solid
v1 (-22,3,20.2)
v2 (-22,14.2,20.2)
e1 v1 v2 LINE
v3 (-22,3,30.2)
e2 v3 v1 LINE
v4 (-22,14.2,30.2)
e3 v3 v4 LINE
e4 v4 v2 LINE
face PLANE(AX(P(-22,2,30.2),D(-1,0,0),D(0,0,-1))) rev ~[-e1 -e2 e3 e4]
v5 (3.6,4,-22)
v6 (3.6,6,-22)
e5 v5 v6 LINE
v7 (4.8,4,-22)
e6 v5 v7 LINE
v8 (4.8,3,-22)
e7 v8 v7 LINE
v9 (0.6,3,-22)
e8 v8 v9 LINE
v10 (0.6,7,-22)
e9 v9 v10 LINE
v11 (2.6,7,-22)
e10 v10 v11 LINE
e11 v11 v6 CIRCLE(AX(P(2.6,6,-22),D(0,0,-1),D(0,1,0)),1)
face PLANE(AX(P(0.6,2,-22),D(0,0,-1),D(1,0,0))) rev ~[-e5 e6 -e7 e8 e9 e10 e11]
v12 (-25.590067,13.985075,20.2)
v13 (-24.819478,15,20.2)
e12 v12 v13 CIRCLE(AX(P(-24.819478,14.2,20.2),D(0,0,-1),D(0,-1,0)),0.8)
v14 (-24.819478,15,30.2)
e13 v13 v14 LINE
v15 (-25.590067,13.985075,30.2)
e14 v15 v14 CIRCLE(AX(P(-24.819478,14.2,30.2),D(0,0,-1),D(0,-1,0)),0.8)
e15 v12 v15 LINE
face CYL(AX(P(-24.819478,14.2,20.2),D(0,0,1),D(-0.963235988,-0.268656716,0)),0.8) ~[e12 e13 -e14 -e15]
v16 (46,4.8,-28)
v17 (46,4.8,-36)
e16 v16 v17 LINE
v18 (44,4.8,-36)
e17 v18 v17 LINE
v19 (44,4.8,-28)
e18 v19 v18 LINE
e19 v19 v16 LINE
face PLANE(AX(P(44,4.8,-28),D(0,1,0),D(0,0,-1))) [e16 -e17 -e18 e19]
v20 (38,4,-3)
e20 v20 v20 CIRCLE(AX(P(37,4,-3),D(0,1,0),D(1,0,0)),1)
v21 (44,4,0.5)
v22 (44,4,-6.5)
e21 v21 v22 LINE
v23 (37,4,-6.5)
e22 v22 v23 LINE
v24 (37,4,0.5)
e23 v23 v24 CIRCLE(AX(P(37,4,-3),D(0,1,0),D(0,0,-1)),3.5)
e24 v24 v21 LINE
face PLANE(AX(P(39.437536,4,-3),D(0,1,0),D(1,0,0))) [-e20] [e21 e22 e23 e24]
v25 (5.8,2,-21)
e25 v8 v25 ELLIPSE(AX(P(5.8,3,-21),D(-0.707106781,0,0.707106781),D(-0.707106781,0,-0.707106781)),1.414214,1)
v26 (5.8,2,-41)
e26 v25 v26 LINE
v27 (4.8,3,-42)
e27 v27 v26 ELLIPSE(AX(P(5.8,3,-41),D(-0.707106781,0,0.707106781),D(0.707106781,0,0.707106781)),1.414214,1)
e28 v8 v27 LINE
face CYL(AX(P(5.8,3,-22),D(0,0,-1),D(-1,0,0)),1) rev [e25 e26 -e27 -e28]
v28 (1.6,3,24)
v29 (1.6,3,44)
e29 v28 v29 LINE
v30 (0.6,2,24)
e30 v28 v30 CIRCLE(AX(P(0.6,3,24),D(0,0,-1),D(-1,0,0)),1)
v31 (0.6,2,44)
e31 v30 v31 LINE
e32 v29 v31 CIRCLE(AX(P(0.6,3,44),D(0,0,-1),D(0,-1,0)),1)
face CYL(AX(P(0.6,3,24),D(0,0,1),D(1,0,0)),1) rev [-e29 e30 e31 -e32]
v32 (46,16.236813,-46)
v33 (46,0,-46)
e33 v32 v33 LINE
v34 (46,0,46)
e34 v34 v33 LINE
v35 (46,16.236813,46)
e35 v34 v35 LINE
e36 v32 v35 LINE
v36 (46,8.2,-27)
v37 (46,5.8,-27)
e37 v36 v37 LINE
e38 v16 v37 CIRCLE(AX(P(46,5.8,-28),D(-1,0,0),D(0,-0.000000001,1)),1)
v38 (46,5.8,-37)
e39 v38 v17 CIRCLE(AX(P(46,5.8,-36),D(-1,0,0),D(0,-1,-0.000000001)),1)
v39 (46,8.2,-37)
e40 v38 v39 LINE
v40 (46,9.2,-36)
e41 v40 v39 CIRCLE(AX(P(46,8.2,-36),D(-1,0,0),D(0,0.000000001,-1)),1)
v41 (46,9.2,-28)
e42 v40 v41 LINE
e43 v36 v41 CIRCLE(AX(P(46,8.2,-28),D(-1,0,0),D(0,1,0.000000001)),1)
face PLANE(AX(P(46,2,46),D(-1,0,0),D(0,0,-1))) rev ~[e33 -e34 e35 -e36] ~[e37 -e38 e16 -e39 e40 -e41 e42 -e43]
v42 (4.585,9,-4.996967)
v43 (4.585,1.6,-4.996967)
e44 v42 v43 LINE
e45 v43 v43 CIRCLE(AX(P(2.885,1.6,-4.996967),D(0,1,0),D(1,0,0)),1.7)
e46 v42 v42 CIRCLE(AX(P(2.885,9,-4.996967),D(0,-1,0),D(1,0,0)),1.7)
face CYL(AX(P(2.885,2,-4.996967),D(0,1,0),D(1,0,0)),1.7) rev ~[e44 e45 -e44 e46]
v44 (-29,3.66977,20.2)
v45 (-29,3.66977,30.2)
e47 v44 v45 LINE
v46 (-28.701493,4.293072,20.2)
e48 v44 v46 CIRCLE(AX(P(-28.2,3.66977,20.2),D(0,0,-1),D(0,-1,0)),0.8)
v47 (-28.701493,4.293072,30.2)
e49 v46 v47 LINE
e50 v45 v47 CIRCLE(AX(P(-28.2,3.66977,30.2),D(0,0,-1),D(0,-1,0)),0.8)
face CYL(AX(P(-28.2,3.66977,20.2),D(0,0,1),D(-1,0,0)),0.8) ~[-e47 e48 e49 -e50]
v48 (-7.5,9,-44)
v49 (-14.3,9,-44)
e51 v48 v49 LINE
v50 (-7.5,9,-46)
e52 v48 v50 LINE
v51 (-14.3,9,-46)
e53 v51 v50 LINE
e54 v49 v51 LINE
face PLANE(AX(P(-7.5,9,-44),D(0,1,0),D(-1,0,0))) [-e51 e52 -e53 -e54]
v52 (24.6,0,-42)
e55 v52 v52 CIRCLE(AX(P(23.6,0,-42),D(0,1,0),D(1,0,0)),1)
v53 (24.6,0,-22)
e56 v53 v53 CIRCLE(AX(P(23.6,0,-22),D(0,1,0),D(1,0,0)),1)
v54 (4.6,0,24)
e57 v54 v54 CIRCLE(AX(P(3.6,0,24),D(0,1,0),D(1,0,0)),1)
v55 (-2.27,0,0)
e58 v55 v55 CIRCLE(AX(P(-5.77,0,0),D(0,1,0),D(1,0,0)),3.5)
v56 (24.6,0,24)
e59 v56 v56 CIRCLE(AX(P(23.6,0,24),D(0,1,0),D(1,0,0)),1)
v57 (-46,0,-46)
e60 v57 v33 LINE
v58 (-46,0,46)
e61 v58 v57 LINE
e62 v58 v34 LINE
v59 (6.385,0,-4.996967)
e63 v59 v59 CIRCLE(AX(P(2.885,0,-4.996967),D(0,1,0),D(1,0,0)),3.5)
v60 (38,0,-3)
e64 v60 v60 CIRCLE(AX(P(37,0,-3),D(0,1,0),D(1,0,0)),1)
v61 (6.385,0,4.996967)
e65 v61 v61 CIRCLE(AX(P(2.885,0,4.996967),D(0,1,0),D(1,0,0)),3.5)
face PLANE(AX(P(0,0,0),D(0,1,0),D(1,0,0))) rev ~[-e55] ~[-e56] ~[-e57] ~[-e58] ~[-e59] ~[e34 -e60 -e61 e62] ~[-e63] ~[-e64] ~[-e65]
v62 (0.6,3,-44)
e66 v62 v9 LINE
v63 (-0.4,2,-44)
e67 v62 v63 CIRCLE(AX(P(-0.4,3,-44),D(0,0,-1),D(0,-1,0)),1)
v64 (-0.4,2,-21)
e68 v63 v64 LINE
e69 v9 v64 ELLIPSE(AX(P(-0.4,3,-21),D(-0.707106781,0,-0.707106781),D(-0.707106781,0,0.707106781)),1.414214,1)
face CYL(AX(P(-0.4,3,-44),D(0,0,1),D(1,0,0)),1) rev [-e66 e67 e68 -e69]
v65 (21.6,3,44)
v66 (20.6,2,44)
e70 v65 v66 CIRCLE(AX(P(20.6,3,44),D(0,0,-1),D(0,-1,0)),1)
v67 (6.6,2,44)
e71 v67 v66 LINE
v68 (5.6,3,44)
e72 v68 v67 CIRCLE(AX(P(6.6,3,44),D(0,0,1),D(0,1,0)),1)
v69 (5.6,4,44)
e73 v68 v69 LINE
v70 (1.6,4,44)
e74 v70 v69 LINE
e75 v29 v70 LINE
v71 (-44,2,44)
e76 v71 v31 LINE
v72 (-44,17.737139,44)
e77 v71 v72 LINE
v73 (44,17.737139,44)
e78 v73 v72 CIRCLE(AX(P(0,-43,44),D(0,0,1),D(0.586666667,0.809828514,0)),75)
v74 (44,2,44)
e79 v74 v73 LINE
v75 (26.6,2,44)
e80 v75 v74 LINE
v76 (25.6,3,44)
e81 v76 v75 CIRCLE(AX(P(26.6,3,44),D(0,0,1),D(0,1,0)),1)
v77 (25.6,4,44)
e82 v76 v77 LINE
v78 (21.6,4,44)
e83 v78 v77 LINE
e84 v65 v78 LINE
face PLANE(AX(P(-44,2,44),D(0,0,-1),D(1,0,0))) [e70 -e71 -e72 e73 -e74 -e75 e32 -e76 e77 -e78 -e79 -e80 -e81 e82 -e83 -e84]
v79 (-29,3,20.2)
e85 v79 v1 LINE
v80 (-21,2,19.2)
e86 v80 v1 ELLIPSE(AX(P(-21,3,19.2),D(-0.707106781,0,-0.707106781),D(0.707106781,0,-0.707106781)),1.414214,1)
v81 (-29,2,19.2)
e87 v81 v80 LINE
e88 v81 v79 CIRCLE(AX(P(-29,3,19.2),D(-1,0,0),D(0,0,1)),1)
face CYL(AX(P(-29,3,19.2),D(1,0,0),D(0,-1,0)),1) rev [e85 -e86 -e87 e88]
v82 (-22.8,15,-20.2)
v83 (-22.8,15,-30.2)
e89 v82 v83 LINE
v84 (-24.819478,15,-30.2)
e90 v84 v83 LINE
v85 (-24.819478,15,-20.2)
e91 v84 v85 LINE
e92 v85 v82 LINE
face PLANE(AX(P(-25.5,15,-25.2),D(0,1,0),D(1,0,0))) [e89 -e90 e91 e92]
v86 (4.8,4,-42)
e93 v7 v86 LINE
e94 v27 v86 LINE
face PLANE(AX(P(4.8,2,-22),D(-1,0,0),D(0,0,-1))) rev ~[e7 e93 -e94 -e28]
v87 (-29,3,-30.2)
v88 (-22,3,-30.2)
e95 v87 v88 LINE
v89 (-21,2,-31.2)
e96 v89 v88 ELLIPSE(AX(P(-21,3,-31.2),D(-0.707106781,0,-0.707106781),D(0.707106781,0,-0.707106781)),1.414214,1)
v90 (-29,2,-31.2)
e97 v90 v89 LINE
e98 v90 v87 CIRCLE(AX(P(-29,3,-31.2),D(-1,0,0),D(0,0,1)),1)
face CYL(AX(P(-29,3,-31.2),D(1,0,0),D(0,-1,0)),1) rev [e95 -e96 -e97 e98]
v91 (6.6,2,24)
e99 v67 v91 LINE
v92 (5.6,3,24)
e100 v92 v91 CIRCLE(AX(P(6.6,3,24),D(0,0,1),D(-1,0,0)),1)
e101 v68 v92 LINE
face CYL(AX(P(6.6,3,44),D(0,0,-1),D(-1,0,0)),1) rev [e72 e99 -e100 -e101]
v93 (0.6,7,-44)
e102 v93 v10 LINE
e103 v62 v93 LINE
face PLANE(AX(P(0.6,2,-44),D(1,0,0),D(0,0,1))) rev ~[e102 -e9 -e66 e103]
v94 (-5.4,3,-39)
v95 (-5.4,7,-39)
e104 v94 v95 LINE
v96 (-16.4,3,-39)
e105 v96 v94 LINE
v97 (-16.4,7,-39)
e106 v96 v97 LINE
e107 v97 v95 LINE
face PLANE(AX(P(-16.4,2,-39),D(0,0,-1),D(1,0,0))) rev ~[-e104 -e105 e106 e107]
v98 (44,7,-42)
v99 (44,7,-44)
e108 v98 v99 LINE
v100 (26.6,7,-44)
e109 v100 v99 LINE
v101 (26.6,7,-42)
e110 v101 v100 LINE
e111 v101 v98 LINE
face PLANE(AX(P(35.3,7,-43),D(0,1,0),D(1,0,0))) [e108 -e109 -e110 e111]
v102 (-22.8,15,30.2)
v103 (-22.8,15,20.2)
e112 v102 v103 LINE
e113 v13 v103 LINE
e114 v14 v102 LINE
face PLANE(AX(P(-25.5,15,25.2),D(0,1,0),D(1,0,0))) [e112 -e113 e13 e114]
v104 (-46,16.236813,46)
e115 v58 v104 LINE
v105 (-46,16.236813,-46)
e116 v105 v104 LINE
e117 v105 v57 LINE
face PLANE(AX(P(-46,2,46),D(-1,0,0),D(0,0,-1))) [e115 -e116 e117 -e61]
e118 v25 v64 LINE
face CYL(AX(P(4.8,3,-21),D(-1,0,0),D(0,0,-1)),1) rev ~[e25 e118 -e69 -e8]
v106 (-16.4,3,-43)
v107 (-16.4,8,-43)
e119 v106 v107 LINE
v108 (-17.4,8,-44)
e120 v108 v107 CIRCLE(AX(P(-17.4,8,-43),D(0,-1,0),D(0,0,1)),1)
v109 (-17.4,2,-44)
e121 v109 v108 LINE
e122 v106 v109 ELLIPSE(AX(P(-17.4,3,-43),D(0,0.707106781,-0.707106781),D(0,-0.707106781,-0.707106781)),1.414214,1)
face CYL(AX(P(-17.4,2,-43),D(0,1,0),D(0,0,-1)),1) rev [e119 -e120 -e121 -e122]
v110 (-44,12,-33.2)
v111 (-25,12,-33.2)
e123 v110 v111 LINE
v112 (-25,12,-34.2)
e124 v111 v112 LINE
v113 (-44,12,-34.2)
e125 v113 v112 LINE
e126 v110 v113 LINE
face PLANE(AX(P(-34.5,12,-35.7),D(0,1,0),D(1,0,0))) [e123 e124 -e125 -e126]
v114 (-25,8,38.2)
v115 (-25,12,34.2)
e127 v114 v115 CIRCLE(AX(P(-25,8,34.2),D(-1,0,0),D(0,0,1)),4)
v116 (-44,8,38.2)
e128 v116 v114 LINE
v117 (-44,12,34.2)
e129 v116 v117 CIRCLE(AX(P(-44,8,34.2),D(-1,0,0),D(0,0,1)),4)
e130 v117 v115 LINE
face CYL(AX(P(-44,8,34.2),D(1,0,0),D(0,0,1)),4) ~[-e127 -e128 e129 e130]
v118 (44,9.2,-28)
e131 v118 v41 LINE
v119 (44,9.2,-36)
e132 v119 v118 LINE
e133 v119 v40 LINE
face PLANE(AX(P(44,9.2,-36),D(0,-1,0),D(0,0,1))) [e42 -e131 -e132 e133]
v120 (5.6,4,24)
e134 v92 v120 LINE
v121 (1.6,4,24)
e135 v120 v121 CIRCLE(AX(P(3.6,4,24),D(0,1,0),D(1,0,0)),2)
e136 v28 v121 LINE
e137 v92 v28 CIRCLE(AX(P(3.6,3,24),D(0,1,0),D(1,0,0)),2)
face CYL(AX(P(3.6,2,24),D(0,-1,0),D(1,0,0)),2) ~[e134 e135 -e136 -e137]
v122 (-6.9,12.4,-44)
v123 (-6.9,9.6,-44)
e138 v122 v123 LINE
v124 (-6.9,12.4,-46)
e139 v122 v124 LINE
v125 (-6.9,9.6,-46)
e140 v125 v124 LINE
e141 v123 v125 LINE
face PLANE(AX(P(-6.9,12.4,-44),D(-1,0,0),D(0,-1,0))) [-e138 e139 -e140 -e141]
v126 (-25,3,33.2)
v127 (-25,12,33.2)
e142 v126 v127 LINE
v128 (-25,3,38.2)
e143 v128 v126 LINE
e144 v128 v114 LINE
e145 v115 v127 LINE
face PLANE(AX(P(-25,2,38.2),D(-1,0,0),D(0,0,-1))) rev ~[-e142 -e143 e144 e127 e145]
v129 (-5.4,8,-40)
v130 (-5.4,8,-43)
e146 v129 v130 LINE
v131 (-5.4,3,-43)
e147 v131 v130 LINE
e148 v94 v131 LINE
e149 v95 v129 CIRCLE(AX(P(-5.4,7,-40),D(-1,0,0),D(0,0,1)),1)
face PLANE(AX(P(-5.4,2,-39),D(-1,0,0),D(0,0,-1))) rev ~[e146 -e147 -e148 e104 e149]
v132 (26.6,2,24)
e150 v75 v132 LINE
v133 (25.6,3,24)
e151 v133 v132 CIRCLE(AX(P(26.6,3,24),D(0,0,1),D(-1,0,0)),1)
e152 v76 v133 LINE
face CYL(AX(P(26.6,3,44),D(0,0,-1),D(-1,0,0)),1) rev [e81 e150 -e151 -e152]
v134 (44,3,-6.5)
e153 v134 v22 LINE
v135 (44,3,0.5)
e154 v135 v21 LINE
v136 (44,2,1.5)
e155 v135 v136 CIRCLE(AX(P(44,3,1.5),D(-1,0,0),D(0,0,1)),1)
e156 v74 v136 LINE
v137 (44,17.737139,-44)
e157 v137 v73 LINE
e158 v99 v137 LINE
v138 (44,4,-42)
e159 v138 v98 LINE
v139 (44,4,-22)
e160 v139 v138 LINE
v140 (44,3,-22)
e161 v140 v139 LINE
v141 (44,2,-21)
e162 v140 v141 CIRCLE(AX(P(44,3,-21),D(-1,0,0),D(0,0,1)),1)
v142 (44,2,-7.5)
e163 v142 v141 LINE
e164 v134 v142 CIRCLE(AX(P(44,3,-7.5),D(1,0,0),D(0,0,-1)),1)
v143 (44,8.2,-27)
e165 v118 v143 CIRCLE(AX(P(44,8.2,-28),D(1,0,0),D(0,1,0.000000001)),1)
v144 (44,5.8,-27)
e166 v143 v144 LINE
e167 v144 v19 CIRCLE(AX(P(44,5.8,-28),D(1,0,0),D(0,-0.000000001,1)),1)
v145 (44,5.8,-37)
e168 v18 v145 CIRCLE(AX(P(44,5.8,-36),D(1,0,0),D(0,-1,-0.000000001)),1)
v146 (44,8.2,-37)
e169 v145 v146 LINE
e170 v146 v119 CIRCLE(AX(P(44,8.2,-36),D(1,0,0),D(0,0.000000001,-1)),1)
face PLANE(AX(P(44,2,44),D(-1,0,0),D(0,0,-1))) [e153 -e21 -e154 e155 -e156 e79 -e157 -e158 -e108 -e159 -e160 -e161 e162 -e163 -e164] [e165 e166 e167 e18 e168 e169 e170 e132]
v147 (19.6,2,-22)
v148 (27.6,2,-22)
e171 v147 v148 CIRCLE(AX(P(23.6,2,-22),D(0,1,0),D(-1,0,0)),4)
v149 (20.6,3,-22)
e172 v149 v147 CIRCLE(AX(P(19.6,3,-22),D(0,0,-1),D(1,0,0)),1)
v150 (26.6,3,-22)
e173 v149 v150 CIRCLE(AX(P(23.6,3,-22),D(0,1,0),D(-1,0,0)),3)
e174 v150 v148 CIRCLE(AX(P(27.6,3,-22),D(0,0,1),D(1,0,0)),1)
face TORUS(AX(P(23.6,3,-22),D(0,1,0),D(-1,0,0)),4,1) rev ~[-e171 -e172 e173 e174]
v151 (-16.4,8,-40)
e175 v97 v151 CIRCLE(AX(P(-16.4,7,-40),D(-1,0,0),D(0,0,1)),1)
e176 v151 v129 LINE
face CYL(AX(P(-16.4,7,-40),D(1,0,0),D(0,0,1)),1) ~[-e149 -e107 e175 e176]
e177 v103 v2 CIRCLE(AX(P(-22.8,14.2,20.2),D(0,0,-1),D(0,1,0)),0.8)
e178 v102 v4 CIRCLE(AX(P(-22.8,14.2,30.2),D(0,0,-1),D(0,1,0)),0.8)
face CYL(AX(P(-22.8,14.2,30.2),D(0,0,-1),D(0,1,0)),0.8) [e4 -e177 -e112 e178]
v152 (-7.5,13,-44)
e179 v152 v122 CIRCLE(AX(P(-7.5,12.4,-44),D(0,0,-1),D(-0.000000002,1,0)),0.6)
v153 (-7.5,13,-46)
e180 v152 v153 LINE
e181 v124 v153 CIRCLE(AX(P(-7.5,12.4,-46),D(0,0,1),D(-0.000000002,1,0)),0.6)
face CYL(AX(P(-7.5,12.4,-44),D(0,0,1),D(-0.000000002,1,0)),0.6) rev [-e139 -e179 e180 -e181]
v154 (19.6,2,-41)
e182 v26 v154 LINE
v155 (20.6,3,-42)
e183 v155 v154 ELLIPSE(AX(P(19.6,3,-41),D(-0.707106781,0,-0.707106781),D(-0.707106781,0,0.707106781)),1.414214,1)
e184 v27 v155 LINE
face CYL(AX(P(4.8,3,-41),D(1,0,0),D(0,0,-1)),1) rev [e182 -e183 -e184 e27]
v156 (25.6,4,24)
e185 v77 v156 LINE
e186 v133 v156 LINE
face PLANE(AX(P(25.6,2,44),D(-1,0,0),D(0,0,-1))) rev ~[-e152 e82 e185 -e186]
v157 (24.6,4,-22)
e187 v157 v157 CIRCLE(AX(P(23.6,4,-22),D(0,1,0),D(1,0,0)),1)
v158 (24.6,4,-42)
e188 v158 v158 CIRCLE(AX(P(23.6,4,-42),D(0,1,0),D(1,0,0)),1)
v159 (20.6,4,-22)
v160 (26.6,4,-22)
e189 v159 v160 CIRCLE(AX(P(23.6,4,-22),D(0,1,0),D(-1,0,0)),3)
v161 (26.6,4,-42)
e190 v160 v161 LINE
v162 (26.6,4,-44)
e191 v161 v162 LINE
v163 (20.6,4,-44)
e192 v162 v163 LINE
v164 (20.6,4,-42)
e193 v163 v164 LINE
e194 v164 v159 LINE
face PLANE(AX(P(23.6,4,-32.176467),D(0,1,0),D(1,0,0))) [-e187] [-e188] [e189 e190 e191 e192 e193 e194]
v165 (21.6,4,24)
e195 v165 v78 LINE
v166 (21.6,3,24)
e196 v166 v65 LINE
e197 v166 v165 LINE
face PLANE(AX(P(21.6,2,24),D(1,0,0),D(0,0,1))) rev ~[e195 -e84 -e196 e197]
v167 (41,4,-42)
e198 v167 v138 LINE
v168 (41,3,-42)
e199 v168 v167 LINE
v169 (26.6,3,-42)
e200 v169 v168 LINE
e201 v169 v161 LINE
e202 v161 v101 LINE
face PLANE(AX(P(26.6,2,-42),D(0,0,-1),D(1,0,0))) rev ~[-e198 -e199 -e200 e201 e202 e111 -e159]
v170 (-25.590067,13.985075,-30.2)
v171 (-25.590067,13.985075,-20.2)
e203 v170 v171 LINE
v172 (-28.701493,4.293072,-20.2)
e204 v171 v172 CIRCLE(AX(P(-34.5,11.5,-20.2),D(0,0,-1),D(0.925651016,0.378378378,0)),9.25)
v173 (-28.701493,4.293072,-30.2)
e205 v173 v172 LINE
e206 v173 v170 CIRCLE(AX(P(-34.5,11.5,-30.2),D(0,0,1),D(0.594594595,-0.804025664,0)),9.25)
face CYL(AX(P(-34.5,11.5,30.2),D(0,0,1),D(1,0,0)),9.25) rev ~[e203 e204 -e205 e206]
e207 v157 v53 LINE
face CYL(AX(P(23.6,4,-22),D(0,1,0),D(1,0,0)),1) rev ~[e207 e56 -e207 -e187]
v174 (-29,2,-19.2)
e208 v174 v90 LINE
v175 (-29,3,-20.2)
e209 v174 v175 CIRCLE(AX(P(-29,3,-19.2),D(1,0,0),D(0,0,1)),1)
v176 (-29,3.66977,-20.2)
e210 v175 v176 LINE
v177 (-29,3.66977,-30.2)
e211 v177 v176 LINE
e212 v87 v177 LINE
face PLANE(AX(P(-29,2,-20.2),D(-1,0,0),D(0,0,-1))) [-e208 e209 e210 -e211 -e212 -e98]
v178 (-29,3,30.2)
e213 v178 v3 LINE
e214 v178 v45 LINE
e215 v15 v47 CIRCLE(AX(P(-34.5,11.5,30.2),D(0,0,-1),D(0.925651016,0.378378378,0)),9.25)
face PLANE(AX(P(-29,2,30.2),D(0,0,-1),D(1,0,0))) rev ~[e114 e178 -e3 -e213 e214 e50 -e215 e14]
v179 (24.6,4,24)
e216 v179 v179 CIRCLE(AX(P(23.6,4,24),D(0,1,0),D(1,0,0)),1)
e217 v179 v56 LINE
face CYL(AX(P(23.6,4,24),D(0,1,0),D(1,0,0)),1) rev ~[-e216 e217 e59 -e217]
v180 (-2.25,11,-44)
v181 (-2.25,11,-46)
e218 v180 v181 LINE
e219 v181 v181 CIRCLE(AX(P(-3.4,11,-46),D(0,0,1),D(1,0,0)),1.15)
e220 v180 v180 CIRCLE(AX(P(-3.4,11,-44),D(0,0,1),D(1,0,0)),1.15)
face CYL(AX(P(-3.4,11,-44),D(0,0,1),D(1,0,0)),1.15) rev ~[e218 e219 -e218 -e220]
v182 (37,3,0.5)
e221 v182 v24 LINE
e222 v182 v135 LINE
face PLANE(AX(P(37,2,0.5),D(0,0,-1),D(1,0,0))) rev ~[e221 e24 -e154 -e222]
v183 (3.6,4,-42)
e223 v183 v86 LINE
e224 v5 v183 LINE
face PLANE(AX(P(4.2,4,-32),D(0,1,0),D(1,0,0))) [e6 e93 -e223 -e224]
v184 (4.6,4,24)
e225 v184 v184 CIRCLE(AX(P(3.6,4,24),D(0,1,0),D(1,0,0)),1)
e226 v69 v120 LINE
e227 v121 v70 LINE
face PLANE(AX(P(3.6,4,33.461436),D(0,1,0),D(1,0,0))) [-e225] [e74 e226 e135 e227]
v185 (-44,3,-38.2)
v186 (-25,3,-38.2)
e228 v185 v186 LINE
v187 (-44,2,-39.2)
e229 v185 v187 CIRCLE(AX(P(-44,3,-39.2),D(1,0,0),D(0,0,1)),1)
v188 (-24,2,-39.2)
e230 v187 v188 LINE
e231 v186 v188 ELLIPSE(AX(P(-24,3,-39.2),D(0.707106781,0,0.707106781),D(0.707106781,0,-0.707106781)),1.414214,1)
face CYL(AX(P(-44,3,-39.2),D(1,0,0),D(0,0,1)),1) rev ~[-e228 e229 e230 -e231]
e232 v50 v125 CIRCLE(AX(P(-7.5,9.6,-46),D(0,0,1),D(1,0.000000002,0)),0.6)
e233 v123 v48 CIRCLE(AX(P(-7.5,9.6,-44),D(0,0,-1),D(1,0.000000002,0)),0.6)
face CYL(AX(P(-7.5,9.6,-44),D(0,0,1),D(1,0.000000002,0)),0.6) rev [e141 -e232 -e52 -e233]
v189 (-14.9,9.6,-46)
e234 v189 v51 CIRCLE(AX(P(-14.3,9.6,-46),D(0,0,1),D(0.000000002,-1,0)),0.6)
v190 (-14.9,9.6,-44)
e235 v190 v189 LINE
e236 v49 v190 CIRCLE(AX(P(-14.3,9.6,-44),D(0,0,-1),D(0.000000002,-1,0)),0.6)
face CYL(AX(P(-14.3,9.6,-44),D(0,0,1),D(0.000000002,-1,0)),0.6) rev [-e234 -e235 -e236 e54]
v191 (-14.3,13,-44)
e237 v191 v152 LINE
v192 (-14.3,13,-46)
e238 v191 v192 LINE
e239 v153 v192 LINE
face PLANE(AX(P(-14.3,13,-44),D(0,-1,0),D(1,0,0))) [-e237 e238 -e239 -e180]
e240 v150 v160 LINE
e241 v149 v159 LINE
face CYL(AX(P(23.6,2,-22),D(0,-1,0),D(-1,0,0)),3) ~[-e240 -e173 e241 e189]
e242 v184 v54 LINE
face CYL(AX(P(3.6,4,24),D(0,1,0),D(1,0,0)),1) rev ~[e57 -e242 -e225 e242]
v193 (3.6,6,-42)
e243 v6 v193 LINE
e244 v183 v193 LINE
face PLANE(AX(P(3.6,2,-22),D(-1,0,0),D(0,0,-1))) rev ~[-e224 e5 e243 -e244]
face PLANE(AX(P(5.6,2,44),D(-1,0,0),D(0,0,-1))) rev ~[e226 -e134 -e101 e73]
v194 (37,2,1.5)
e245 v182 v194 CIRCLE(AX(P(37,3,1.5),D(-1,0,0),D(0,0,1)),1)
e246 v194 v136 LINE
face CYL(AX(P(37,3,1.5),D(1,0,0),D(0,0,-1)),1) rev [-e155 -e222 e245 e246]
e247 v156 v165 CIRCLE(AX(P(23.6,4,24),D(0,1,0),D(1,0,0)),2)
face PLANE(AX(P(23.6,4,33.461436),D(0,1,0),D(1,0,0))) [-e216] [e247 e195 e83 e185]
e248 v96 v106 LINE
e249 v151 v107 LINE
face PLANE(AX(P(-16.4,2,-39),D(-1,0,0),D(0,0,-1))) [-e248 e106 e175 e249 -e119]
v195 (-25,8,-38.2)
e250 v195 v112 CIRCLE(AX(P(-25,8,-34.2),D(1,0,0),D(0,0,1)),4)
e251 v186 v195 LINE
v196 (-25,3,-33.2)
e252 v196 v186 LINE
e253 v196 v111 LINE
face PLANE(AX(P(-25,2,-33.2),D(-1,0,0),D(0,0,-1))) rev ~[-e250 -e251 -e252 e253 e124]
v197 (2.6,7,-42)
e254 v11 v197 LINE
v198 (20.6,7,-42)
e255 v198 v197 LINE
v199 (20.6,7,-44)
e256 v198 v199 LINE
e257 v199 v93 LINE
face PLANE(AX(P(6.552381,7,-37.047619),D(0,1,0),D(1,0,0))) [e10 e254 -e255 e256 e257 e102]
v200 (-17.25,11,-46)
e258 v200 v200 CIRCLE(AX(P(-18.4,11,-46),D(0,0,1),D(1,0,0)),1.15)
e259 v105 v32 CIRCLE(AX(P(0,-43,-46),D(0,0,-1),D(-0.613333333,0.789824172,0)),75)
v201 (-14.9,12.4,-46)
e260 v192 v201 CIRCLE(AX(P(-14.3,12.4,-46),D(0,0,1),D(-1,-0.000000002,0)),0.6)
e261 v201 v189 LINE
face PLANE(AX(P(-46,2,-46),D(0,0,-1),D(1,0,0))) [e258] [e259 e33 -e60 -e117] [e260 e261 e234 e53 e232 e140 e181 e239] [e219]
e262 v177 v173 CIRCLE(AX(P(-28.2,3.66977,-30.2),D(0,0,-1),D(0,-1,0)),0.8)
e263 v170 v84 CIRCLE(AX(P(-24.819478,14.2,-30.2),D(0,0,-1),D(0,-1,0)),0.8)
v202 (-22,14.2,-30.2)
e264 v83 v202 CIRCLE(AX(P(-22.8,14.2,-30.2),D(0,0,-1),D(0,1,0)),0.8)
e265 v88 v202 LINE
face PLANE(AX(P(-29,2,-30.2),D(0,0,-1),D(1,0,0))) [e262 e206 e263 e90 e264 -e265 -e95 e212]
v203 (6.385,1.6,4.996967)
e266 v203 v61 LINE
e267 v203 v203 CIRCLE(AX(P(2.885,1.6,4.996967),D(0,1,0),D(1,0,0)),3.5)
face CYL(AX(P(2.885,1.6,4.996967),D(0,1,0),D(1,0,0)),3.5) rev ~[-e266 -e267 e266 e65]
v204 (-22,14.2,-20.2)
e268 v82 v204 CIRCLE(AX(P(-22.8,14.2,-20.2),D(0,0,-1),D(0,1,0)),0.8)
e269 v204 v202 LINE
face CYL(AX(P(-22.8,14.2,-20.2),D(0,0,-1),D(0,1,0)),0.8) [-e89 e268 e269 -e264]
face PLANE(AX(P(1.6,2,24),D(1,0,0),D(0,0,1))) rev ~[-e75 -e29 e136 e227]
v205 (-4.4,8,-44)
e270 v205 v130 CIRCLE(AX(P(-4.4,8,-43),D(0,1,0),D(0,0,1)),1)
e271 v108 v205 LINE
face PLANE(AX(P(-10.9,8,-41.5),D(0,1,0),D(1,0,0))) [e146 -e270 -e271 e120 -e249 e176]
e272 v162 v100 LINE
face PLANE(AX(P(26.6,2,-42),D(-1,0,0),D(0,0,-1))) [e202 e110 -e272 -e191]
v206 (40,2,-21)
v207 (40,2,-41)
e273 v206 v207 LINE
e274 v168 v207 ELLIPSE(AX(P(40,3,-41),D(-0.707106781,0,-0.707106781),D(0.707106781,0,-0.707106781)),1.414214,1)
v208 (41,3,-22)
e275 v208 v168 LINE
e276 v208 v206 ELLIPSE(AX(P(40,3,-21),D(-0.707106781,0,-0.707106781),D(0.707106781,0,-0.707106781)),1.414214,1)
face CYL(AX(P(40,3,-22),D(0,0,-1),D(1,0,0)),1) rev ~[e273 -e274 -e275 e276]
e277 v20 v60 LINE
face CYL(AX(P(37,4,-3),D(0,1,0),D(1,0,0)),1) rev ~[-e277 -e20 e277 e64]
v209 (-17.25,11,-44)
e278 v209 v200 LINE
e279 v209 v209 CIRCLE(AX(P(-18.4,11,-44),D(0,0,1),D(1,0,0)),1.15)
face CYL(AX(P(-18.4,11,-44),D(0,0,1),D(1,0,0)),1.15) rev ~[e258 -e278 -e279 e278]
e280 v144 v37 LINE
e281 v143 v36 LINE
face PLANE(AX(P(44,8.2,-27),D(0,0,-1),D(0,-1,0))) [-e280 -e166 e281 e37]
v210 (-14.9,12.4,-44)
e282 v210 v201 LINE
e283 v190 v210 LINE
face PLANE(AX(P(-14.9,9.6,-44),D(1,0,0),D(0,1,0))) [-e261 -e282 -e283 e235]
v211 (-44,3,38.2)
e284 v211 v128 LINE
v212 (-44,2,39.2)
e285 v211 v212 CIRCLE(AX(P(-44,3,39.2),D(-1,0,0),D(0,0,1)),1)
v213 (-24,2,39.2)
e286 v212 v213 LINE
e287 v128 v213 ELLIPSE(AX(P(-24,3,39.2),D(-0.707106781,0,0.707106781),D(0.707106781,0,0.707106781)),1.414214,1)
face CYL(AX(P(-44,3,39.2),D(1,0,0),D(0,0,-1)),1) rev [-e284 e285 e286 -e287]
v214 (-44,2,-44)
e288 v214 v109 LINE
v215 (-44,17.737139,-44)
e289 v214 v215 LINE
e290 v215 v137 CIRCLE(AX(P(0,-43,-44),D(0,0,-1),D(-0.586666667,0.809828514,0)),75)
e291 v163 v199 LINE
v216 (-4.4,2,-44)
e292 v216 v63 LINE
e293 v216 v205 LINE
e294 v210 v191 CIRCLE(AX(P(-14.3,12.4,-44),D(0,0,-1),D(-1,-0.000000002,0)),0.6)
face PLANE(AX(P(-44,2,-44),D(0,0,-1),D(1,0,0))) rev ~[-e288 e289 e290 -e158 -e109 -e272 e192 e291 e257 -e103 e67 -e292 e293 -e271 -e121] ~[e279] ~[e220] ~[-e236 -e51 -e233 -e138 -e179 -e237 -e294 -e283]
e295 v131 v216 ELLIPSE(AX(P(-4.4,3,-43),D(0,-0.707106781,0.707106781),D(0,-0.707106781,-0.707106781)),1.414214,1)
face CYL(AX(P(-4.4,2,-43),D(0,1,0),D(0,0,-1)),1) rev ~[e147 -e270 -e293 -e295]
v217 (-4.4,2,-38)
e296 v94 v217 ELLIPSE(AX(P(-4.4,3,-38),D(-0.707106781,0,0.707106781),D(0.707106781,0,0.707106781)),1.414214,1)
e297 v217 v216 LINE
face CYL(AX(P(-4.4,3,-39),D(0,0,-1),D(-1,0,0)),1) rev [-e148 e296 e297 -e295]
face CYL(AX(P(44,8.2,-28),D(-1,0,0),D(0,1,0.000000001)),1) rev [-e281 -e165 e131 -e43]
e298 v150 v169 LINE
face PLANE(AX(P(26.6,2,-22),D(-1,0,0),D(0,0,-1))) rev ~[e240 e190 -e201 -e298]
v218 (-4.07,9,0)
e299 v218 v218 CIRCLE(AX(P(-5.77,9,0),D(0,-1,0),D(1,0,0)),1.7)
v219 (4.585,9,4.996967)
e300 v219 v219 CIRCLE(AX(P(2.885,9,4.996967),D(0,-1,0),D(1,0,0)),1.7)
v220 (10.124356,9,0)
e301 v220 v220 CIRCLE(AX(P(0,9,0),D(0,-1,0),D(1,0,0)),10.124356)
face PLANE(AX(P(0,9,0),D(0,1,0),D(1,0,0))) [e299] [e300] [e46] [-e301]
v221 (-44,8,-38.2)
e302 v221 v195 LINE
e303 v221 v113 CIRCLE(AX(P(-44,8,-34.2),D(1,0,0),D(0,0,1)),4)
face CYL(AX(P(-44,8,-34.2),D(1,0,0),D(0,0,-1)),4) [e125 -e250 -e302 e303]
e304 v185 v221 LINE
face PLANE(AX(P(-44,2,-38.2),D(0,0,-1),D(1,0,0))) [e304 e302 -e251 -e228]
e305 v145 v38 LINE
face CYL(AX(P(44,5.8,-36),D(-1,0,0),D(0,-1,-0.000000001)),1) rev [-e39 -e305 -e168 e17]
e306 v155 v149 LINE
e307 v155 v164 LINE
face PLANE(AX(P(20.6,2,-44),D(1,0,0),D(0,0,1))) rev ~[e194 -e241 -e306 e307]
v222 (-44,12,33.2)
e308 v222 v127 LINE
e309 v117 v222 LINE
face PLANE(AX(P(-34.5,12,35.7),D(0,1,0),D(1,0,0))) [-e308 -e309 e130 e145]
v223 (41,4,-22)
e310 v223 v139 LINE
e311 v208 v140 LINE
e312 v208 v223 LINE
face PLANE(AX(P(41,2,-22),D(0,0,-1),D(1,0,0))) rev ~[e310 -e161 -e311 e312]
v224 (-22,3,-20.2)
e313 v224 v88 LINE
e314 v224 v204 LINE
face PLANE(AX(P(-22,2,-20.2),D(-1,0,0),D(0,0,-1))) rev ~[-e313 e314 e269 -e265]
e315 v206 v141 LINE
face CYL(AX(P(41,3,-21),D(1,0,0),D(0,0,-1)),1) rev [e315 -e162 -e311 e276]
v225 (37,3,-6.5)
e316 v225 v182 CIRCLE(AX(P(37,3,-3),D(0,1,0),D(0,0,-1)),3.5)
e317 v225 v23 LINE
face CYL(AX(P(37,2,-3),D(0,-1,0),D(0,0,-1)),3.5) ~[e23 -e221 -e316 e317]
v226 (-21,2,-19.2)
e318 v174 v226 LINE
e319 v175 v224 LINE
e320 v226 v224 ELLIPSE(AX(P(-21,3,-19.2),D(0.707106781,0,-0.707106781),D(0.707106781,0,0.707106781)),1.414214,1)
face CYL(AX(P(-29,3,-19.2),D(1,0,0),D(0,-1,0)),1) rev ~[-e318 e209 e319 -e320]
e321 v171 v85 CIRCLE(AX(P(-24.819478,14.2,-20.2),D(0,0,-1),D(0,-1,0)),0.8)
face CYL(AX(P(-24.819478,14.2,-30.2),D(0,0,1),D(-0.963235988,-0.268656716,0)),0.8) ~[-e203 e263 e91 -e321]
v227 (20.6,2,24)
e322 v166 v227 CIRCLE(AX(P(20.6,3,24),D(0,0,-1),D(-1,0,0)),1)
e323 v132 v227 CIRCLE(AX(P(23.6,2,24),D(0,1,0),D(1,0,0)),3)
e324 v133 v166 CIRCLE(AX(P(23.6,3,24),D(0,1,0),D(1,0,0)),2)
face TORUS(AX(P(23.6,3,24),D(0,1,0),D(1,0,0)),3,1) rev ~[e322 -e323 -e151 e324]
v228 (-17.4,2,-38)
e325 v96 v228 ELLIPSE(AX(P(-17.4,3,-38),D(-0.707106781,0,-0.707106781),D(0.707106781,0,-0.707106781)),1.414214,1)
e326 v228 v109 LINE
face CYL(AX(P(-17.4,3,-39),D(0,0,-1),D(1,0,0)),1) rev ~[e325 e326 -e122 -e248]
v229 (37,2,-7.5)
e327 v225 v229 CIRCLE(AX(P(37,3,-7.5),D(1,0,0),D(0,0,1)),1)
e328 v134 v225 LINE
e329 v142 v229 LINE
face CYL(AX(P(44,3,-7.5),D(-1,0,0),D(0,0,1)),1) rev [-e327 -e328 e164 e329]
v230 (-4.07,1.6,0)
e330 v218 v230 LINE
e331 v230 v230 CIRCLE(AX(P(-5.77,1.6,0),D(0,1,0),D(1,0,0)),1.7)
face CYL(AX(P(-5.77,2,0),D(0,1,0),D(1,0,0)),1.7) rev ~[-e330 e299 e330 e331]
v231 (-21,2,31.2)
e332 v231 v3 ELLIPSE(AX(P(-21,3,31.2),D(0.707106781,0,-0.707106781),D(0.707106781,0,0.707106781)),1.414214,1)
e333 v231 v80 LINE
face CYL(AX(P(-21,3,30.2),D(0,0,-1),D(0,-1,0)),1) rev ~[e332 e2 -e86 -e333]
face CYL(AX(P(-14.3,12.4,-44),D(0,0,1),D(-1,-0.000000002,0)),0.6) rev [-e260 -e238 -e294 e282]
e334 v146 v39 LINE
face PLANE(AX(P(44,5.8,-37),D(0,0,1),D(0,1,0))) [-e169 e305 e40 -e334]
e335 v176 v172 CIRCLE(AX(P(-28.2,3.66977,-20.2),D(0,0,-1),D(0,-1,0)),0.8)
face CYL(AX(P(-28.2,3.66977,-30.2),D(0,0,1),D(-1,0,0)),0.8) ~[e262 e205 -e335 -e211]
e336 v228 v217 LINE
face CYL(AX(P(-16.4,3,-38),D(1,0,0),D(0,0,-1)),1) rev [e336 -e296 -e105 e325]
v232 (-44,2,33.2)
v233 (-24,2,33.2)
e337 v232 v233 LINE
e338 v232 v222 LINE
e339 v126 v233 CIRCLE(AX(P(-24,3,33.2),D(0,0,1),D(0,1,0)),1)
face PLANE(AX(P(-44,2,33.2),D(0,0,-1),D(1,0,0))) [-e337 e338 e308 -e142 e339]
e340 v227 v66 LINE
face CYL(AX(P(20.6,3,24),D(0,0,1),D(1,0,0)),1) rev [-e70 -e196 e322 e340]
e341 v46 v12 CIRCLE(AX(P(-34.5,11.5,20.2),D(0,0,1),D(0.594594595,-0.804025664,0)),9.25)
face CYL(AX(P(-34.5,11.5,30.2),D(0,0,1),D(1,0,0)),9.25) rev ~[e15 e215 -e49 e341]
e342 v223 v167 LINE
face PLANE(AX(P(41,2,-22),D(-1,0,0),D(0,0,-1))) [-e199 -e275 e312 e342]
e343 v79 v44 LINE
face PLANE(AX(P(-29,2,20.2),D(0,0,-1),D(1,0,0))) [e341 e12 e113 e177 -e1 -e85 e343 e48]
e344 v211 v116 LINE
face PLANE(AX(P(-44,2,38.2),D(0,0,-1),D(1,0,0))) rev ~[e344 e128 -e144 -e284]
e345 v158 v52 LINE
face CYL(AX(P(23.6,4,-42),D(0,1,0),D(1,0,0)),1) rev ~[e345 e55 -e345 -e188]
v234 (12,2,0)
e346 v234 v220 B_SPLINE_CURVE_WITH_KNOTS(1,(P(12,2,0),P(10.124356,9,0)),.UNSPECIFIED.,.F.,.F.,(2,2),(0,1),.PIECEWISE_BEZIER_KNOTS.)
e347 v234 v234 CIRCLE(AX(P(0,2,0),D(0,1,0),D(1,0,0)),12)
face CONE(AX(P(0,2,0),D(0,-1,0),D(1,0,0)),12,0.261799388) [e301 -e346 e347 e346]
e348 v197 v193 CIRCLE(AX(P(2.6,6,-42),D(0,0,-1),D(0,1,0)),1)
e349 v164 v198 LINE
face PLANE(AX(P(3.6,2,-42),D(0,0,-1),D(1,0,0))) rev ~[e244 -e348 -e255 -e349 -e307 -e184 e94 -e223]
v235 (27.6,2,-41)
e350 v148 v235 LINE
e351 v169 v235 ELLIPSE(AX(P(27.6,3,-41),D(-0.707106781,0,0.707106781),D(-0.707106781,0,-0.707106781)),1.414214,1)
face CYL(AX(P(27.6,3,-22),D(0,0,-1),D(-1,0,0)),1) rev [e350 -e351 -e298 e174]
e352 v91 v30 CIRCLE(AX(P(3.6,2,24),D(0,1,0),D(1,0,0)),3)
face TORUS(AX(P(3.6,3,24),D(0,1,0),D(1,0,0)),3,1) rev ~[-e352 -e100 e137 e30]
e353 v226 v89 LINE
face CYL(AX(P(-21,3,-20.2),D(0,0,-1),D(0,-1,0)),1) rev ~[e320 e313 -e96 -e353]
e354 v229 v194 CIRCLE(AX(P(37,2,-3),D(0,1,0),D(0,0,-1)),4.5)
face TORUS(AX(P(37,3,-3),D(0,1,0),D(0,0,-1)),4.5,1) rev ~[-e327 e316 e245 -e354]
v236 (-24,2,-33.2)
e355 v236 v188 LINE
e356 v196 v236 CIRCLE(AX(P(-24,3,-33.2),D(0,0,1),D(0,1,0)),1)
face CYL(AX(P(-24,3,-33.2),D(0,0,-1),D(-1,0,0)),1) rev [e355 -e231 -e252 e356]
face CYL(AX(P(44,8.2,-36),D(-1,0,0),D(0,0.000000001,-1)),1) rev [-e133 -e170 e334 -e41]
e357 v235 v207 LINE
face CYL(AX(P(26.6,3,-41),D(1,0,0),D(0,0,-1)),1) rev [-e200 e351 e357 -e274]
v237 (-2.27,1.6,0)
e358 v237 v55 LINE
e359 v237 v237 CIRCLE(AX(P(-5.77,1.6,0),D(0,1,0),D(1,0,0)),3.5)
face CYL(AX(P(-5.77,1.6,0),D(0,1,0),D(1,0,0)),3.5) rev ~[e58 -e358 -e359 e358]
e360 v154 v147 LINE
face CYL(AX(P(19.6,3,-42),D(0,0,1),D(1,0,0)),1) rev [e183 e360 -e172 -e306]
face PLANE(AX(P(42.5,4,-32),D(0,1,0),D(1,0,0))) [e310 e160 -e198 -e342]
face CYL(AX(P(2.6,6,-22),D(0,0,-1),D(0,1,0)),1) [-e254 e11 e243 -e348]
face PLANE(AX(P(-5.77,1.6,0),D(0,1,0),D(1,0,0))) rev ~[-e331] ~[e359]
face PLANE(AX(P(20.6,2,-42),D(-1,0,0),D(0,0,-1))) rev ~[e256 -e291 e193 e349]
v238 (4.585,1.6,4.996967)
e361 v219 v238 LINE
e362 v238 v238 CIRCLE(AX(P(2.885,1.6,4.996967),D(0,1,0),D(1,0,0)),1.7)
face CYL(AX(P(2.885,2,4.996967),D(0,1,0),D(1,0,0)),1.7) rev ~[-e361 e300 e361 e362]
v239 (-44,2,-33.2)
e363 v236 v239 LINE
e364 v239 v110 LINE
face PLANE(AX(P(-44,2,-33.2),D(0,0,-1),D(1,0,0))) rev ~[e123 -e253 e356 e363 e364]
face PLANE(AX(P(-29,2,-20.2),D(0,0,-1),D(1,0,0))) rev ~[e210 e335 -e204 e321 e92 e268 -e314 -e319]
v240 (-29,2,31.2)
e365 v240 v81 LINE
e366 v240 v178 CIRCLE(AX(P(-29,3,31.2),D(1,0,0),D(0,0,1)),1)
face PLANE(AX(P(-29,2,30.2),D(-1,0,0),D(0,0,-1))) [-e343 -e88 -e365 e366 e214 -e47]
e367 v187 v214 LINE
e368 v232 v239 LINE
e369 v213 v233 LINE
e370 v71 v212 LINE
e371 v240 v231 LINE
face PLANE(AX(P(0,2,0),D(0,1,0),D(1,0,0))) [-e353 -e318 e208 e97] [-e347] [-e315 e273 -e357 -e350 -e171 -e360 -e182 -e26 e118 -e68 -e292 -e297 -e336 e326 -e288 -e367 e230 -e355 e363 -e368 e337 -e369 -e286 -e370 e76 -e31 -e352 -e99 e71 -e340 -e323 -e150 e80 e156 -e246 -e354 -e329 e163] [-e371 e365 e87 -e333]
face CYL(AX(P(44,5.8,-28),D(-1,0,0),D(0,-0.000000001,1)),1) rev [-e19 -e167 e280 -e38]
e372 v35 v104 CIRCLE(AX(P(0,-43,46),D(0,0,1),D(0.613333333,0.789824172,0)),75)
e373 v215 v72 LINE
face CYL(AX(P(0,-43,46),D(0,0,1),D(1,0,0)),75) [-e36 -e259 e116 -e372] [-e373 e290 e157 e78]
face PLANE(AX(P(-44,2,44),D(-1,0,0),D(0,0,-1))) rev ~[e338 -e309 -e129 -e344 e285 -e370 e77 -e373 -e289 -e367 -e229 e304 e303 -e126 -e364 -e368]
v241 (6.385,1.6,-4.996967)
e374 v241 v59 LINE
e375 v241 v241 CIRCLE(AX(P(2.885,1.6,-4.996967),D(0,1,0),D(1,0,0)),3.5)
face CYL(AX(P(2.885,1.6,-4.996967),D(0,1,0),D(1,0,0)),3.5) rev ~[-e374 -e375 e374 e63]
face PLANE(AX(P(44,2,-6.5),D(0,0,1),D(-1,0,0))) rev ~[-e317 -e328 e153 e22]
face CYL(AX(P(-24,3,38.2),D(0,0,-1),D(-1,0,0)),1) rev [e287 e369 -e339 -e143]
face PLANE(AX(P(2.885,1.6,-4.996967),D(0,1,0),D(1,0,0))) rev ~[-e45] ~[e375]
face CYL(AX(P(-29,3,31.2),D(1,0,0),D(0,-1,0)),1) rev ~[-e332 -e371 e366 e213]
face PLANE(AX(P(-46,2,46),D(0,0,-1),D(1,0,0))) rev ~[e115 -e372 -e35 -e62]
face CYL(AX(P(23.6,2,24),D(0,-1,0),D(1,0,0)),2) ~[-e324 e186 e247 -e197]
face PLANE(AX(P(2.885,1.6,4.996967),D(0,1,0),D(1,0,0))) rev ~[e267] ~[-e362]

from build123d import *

# Parameters (mm, degrees)
SKETCH1_W               = 92
SKETCH1_H               = 92
BOSS_EXTRUDE1_DEPTH     = 2
SKETCH7_R               = 12
BOSS_EXTRUDE2_DEPTH     = 7
BOSS_EXTRUDE2_TAPER     = 15
SKETCH4_R               = 1.7
CUT_EXTRUDE3_DEPTH      = 8.0000001
CUT_EXTRUDE3_DEPTH_BACK = 3
CUT_EXTRUDE4_START      = -0.4
SKETCH6_R               = 3.5
CUT_EXTRUDE4_DEPTH      = 2.6
SKETCH8_W               = 19
SKETCH8_H               = 5
BOSS_EXTRUDE3_DEPTH     = 10
FILLET1_R               = 4
SKETCH12_W              = 7
SKETCH12_H              = 10
BOSS_EXTRUDE6_DEPTH     = 13
SKETCH16_R              = 9.25
CUT_EXTRUDE5_DEPTH      = 60.4
FILLET3_R               = 0.8
SKETCH17_W              = 92
SKETCH17_H              = 92
SKETCH17_W_2            = 88
SKETCH17_H_2            = 88
BOSS_EXTRUDE11_DEPTH    = 30
SKETCH19_R              = 105
SKETCH19_R_2            = 75
CUT_EXTRUDE6_DEPTH      = 92
SKETCH20_W              = 17.4
SKETCH20_H              = 2
BOSS_EXTRUDE12_DEPTH    = 5
SKETCH21_W              = 3
SKETCH21_H              = 20
SKETCH21_W_2            = 1.2
BOSS_EXTRUDE13_DEPTH    = 2
SKETCH22_R              = 1
CUT_EXTRUDE7_DEPTH      = 5
CUT_EXTRUDE8_DEPTH      = 3
BOSS_EXTRUDE14_DEPTH    = 2
SKETCH25_R              = 1
CUT_EXTRUDE9_DEPTH      = 5
SKETCH27_W              = 11
SKETCH27_H              = 5
BOSS_EXTRUDE15_DEPTH    = 6
SKETCH28_R              = 1.15
CUT_EXTRUDE10_DEPTH     = 3
FILLET4_R               = 1
FILLET5_R               = 1
FILLET6_R               = 1


with BuildPart() as part:
    # Sketch1 → Boss-Extrude1 (new body)
    with BuildSketch(Plane(origin=(0, 0, 0), x_dir=(1, 0, 0), z_dir=(0, 1, 0))):
        Rectangle(SKETCH1_W, SKETCH1_H)
    extrude(amount=BOSS_EXTRUDE1_DEPTH)

    # Sketch7 → Boss-Extrude2 (add)
    with BuildSketch(Plane(origin=(0, 2, 0), x_dir=(1, 0, 0), z_dir=(0, 1, 0))):
        Circle(SKETCH7_R)
    extrude(amount=BOSS_EXTRUDE2_DEPTH, taper=BOSS_EXTRUDE2_TAPER)

    # Sketch4 → Cut-Extrude3 (cut, two sides)
    with BuildSketch(Plane(origin=(0, 2, 0), x_dir=(1, 0, 0), z_dir=(0, 1, 0))) as cut_extrude3_sk:
        with Locations((-5.77, 0)):
            Circle(SKETCH4_R)
        with Locations((2.885, 4.99696658)):
            Circle(SKETCH4_R)
        with Locations((2.885, -4.99696658)):
            Circle(SKETCH4_R)
    extrude(amount=CUT_EXTRUDE3_DEPTH, mode=Mode.SUBTRACT)
    extrude(cut_extrude3_sk.sketch, amount=-CUT_EXTRUDE3_DEPTH_BACK, mode=Mode.SUBTRACT)

    # Sketch6 → Cut-Extrude4 (cut, through all)
    with BuildSketch(Plane(origin=(0, 2, 0), x_dir=(1, 0, 0), z_dir=(0, 1, 0)).offset(CUT_EXTRUDE4_START)):
        with Locations((2.885, 4.99696658)):
            Circle(SKETCH6_R)
        with Locations((-5.77, 0)):
            Circle(SKETCH6_R)
        with Locations((2.885, -4.99696658)):
            Circle(SKETCH6_R)
    extrude(amount=-CUT_EXTRUDE4_DEPTH, mode=Mode.SUBTRACT)

    # Sketch8 → Boss-Extrude3 (add)
    with BuildSketch(Plane(origin=(0, 2, 0), x_dir=(1, 0, 0), z_dir=(0, 1, 0))):
        with Locations((-34.5, -35.7)):
            Rectangle(SKETCH8_W, SKETCH8_H)
        with Locations((-34.5, 35.7)):
            Rectangle(SKETCH8_W, SKETCH8_H)
    extrude(amount=BOSS_EXTRUDE3_DEPTH)

    # Fillet1
    fillet1_edges = [part.edges().sort_by_distance(p)[0] for p in [
        (-34.5, 12, -38.2),
        (-34.5, 12, 38.2),
    ]]
    fillet(fillet1_edges, radius=FILLET1_R)

    # Sketch12 → Boss-Extrude6 (add)
    with BuildSketch(Plane(origin=(0, 2, 0), x_dir=(1, 0, 0), z_dir=(0, 1, 0))):
        with Locations((-25.5, 25.2)):
            Rectangle(SKETCH12_W, SKETCH12_H)
        with Locations((-25.5, -25.2)):
            Rectangle(SKETCH12_W, SKETCH12_H)
    extrude(amount=BOSS_EXTRUDE6_DEPTH)

    # Sketch16 → Cut-Extrude5 (cut)
    with BuildSketch(Plane.XY.offset(30.2)):
        with Locations((-34.5, 11.5)):
            Circle(SKETCH16_R)
    extrude(amount=-CUT_EXTRUDE5_DEPTH, mode=Mode.SUBTRACT)

    # Fillet3
    fillet3_edges = [part.edges().sort_by_distance(p)[0] for p in [
        (-22, 15, -25.2),
        (-22, 15, 25.2),
        (-25.937728105, 15, -25.2),
        (-29, 4.06276261, 25.2),
        (-25.937728105, 15, 25.2),
        (-29, 4.06276261, -25.2),
    ]]
    fillet(fillet3_edges, radius=FILLET3_R)

    # Sketch17 → Boss-Extrude11 (add)
    with BuildSketch(Plane(origin=(0, 2, 0), x_dir=(1, 0, 0), z_dir=(0, 1, 0))):
        Rectangle(SKETCH17_W, SKETCH17_H)
        Rectangle(SKETCH17_W_2, SKETCH17_H_2, mode=Mode.SUBTRACT)
    extrude(amount=BOSS_EXTRUDE11_DEPTH)

    # Sketch19 → Cut-Extrude6 (cut)
    with BuildSketch(Plane.XY.offset(46)):
        with Locations((0, -43)):
            Circle(SKETCH19_R)
        with Locations((0, -43)):
            Circle(SKETCH19_R_2, mode=Mode.SUBTRACT)
    extrude(amount=-CUT_EXTRUDE6_DEPTH, mode=Mode.SUBTRACT)

    # Sketch20 → Boss-Extrude12 (add)
    with BuildSketch(Plane(origin=(0, 2, 0), x_dir=(1, 0, 0), z_dir=(0, 1, 0))):
        Polygon((0.6, 44), (0.6, 22), (3.6, 22), (3.6, 42), (20.6, 42), (20.6, 44), align=None)
        with Locations((35.3, 43)):
            Rectangle(SKETCH20_W, SKETCH20_H)
    extrude(amount=BOSS_EXTRUDE12_DEPTH)

    # Sketch21 → Boss-Extrude13 (add)
    with BuildSketch(Plane(origin=(0, 2, 0), x_dir=(1, 0, 0), z_dir=(0, 1, 0))):
        with BuildLine():
            Line((26.6, 44), (20.6, 44))
            Line((20.6, 44), (20.6, 22))
            ThreePointArc((20.6, 22), (23.6, 19), (26.6, 22))
            Line((26.6, 22), (26.6, 44))
        make_face()
        with Locations((42.5, 32)):
            Rectangle(SKETCH21_W, SKETCH21_H)
        with Locations((4.2, 32)):
            Rectangle(SKETCH21_W_2, SKETCH21_H)
    extrude(amount=BOSS_EXTRUDE13_DEPTH)

    # Sketch22 → Cut-Extrude7 (cut, through all)
    with BuildSketch(Plane(origin=(0, 4, 0), x_dir=(1, 0, 0), z_dir=(0, 1, 0))):
        with Locations((23.6, 22)):
            Circle(SKETCH22_R)
        with Locations((23.6, 42)):
            Circle(SKETCH22_R)
    extrude(amount=-CUT_EXTRUDE7_DEPTH, mode=Mode.SUBTRACT)

    # Sketch23 → Cut-Extrude8 (cut, through all)
    with BuildSketch(Plane.ZY.offset(-44)):
        with BuildLine():
            Line((-36, 9.2), (-28, 9.2))
            ThreePointArc((-28, 9.2), (-27.292893219, 8.907106781), (-27, 8.2))
            Line((-27, 8.2), (-27, 5.8))
            ThreePointArc((-27, 5.8), (-27.292893219, 5.092893219), (-28, 4.8))
            Line((-28, 4.8), (-36, 4.8))
            ThreePointArc((-36, 4.8), (-36.707106781, 5.092893219), (-37, 5.8))
            Line((-37, 5.8), (-37, 8.2))
            ThreePointArc((-37, 8.2), (-36.707106781, 8.907106781), (-36, 9.2))
        make_face()
    extrude(amount=-CUT_EXTRUDE8_DEPTH, mode=Mode.SUBTRACT)

    # Sketch24 → Boss-Extrude14 (add)
    with BuildSketch(Plane(origin=(0, 2, 0), x_dir=(1, 0, 0), z_dir=(0, 1, 0))):
        with BuildLine():
            Line((21.6, -44), (25.6, -44))
            Line((25.6, -44), (25.6, -24))
            ThreePointArc((25.6, -24), (23.6, -22), (21.6, -24))
            Line((21.6, -24), (21.6, -44))
        make_face()
        with BuildLine():
            Line((1.6, -44), (5.6, -44))
            Line((5.6, -44), (5.6, -24))
            ThreePointArc((5.6, -24), (3.6, -22), (1.6, -24))
            Line((1.6, -24), (1.6, -44))
        make_face()
        with BuildLine():
            Line((44, 6.5), (37, 6.5))
            ThreePointArc((37, 6.5), (33.5, 3), (37, -0.5))
            Line((37, -0.5), (44, -0.5))
            Line((44, -0.5), (44, 6.5))
        make_face()
    extrude(amount=BOSS_EXTRUDE14_DEPTH)

    # Sketch25 → Cut-Extrude9 (cut, through all)
    with BuildSketch(Plane(origin=(0, 4, 0), x_dir=(1, 0, 0), z_dir=(0, 1, 0))):
        with Locations((3.6, -24)):
            Circle(SKETCH25_R)
        with Locations((23.6, -24)):
            Circle(SKETCH25_R)
        with Locations((37, 3)):
            Circle(SKETCH25_R)
    extrude(amount=-CUT_EXTRUDE9_DEPTH, mode=Mode.SUBTRACT)

    # Sketch27 → Boss-Extrude15 (add)
    with BuildSketch(Plane(origin=(0, 2, 0), x_dir=(1, 0, 0), z_dir=(0, 1, 0))):
        with Locations((-10.9, 41.5)):
            Rectangle(SKETCH27_W, SKETCH27_H)
    extrude(amount=BOSS_EXTRUDE15_DEPTH)

    # Sketch28 → Cut-Extrude10 (cut, through all)
    with BuildSketch(Plane.XY.offset(-44)):
        with Locations((-18.4, 11)):
            Circle(SKETCH28_R)
        with Locations((-3.4, 11)):
            Circle(SKETCH28_R)
        with BuildLine():
            Line((-14.3, 13), (-7.5, 13))
            ThreePointArc((-7.5, 13), (-7.075735931, 12.824264069), (-6.9, 12.4))
            Line((-6.9, 12.4), (-6.9, 9.6))
            ThreePointArc((-6.9, 9.6), (-7.075735931, 9.175735931), (-7.5, 9))
            Line((-7.5, 9), (-14.3, 9))
            ThreePointArc((-14.3, 9), (-14.724264069, 9.175735931), (-14.9, 9.6))
            Line((-14.9, 9.6), (-14.9, 12.4))
            ThreePointArc((-14.9, 12.4), (-14.724264069, 12.824264069), (-14.3, 13))
        make_face()
    extrude(amount=-CUT_EXTRUDE10_DEPTH, mode=Mode.SUBTRACT)

    # Fillet4
    fillet4_edges = [part.edges().sort_by_distance(p)[0] for p in [
        (3.6, 7, -32),
    ]]
    fillet(fillet4_edges, radius=FILLET4_R)

    # Fillet5
    fillet5_edges = [part.edges().sort_by_distance(p)[0] for p in [
        (-16.4, 2, -41.5),
        (-16.4, 5, -44),
        (-10.9, 2, -39),
        (-5.4, 2, -41.5),
        (-5.4, 5, -44),
        (-10.9, 8, -39),
    ]]
    fillet(fillet5_edges, radius=FILLET5_R)

    # Fillet6
    fillet6_edges = [part.edges().sort_by_distance(p)[0] for p in [
        (26.6, 2, -32),
        (23.6, 2, -19),
        (12.7, 2, -42),
        (33.8, 2, -42),
        (42.5, 2, -22),
        (41, 2, -32),
        (20.6, 2, -32),
        (4.8, 2, -32),
        (2.7, 2, -22),
        (0.6, 2, -33),
        (40.5, 2, -6.5),
        (33.5, 2, -3),
        (21.6, 2, 34),
        (23.6, 2, 22),
        (1.6, 2, 34),
        (3.6, 2, 22),
        (40.5, 2, 0.5),
        (25.6, 2, 34),
        (5.6, 2, 34),
        (-34.5, 2, 38.2),
        (-25, 2, 35.7),
        (-25.5, 2, 30.2),
        (-25.5, 2, 20.2),
        (-22, 2, 25.2),
        (-34.5, 2, -38.2),
        (-25, 2, -35.7),
        (-25.5, 2, -30.2),
        (-25.5, 2, -20.2),
        (-22, 2, -25.2),
    ]]
    fillet(fillet6_edges, radius=FILLET6_R)


solid = part.part
